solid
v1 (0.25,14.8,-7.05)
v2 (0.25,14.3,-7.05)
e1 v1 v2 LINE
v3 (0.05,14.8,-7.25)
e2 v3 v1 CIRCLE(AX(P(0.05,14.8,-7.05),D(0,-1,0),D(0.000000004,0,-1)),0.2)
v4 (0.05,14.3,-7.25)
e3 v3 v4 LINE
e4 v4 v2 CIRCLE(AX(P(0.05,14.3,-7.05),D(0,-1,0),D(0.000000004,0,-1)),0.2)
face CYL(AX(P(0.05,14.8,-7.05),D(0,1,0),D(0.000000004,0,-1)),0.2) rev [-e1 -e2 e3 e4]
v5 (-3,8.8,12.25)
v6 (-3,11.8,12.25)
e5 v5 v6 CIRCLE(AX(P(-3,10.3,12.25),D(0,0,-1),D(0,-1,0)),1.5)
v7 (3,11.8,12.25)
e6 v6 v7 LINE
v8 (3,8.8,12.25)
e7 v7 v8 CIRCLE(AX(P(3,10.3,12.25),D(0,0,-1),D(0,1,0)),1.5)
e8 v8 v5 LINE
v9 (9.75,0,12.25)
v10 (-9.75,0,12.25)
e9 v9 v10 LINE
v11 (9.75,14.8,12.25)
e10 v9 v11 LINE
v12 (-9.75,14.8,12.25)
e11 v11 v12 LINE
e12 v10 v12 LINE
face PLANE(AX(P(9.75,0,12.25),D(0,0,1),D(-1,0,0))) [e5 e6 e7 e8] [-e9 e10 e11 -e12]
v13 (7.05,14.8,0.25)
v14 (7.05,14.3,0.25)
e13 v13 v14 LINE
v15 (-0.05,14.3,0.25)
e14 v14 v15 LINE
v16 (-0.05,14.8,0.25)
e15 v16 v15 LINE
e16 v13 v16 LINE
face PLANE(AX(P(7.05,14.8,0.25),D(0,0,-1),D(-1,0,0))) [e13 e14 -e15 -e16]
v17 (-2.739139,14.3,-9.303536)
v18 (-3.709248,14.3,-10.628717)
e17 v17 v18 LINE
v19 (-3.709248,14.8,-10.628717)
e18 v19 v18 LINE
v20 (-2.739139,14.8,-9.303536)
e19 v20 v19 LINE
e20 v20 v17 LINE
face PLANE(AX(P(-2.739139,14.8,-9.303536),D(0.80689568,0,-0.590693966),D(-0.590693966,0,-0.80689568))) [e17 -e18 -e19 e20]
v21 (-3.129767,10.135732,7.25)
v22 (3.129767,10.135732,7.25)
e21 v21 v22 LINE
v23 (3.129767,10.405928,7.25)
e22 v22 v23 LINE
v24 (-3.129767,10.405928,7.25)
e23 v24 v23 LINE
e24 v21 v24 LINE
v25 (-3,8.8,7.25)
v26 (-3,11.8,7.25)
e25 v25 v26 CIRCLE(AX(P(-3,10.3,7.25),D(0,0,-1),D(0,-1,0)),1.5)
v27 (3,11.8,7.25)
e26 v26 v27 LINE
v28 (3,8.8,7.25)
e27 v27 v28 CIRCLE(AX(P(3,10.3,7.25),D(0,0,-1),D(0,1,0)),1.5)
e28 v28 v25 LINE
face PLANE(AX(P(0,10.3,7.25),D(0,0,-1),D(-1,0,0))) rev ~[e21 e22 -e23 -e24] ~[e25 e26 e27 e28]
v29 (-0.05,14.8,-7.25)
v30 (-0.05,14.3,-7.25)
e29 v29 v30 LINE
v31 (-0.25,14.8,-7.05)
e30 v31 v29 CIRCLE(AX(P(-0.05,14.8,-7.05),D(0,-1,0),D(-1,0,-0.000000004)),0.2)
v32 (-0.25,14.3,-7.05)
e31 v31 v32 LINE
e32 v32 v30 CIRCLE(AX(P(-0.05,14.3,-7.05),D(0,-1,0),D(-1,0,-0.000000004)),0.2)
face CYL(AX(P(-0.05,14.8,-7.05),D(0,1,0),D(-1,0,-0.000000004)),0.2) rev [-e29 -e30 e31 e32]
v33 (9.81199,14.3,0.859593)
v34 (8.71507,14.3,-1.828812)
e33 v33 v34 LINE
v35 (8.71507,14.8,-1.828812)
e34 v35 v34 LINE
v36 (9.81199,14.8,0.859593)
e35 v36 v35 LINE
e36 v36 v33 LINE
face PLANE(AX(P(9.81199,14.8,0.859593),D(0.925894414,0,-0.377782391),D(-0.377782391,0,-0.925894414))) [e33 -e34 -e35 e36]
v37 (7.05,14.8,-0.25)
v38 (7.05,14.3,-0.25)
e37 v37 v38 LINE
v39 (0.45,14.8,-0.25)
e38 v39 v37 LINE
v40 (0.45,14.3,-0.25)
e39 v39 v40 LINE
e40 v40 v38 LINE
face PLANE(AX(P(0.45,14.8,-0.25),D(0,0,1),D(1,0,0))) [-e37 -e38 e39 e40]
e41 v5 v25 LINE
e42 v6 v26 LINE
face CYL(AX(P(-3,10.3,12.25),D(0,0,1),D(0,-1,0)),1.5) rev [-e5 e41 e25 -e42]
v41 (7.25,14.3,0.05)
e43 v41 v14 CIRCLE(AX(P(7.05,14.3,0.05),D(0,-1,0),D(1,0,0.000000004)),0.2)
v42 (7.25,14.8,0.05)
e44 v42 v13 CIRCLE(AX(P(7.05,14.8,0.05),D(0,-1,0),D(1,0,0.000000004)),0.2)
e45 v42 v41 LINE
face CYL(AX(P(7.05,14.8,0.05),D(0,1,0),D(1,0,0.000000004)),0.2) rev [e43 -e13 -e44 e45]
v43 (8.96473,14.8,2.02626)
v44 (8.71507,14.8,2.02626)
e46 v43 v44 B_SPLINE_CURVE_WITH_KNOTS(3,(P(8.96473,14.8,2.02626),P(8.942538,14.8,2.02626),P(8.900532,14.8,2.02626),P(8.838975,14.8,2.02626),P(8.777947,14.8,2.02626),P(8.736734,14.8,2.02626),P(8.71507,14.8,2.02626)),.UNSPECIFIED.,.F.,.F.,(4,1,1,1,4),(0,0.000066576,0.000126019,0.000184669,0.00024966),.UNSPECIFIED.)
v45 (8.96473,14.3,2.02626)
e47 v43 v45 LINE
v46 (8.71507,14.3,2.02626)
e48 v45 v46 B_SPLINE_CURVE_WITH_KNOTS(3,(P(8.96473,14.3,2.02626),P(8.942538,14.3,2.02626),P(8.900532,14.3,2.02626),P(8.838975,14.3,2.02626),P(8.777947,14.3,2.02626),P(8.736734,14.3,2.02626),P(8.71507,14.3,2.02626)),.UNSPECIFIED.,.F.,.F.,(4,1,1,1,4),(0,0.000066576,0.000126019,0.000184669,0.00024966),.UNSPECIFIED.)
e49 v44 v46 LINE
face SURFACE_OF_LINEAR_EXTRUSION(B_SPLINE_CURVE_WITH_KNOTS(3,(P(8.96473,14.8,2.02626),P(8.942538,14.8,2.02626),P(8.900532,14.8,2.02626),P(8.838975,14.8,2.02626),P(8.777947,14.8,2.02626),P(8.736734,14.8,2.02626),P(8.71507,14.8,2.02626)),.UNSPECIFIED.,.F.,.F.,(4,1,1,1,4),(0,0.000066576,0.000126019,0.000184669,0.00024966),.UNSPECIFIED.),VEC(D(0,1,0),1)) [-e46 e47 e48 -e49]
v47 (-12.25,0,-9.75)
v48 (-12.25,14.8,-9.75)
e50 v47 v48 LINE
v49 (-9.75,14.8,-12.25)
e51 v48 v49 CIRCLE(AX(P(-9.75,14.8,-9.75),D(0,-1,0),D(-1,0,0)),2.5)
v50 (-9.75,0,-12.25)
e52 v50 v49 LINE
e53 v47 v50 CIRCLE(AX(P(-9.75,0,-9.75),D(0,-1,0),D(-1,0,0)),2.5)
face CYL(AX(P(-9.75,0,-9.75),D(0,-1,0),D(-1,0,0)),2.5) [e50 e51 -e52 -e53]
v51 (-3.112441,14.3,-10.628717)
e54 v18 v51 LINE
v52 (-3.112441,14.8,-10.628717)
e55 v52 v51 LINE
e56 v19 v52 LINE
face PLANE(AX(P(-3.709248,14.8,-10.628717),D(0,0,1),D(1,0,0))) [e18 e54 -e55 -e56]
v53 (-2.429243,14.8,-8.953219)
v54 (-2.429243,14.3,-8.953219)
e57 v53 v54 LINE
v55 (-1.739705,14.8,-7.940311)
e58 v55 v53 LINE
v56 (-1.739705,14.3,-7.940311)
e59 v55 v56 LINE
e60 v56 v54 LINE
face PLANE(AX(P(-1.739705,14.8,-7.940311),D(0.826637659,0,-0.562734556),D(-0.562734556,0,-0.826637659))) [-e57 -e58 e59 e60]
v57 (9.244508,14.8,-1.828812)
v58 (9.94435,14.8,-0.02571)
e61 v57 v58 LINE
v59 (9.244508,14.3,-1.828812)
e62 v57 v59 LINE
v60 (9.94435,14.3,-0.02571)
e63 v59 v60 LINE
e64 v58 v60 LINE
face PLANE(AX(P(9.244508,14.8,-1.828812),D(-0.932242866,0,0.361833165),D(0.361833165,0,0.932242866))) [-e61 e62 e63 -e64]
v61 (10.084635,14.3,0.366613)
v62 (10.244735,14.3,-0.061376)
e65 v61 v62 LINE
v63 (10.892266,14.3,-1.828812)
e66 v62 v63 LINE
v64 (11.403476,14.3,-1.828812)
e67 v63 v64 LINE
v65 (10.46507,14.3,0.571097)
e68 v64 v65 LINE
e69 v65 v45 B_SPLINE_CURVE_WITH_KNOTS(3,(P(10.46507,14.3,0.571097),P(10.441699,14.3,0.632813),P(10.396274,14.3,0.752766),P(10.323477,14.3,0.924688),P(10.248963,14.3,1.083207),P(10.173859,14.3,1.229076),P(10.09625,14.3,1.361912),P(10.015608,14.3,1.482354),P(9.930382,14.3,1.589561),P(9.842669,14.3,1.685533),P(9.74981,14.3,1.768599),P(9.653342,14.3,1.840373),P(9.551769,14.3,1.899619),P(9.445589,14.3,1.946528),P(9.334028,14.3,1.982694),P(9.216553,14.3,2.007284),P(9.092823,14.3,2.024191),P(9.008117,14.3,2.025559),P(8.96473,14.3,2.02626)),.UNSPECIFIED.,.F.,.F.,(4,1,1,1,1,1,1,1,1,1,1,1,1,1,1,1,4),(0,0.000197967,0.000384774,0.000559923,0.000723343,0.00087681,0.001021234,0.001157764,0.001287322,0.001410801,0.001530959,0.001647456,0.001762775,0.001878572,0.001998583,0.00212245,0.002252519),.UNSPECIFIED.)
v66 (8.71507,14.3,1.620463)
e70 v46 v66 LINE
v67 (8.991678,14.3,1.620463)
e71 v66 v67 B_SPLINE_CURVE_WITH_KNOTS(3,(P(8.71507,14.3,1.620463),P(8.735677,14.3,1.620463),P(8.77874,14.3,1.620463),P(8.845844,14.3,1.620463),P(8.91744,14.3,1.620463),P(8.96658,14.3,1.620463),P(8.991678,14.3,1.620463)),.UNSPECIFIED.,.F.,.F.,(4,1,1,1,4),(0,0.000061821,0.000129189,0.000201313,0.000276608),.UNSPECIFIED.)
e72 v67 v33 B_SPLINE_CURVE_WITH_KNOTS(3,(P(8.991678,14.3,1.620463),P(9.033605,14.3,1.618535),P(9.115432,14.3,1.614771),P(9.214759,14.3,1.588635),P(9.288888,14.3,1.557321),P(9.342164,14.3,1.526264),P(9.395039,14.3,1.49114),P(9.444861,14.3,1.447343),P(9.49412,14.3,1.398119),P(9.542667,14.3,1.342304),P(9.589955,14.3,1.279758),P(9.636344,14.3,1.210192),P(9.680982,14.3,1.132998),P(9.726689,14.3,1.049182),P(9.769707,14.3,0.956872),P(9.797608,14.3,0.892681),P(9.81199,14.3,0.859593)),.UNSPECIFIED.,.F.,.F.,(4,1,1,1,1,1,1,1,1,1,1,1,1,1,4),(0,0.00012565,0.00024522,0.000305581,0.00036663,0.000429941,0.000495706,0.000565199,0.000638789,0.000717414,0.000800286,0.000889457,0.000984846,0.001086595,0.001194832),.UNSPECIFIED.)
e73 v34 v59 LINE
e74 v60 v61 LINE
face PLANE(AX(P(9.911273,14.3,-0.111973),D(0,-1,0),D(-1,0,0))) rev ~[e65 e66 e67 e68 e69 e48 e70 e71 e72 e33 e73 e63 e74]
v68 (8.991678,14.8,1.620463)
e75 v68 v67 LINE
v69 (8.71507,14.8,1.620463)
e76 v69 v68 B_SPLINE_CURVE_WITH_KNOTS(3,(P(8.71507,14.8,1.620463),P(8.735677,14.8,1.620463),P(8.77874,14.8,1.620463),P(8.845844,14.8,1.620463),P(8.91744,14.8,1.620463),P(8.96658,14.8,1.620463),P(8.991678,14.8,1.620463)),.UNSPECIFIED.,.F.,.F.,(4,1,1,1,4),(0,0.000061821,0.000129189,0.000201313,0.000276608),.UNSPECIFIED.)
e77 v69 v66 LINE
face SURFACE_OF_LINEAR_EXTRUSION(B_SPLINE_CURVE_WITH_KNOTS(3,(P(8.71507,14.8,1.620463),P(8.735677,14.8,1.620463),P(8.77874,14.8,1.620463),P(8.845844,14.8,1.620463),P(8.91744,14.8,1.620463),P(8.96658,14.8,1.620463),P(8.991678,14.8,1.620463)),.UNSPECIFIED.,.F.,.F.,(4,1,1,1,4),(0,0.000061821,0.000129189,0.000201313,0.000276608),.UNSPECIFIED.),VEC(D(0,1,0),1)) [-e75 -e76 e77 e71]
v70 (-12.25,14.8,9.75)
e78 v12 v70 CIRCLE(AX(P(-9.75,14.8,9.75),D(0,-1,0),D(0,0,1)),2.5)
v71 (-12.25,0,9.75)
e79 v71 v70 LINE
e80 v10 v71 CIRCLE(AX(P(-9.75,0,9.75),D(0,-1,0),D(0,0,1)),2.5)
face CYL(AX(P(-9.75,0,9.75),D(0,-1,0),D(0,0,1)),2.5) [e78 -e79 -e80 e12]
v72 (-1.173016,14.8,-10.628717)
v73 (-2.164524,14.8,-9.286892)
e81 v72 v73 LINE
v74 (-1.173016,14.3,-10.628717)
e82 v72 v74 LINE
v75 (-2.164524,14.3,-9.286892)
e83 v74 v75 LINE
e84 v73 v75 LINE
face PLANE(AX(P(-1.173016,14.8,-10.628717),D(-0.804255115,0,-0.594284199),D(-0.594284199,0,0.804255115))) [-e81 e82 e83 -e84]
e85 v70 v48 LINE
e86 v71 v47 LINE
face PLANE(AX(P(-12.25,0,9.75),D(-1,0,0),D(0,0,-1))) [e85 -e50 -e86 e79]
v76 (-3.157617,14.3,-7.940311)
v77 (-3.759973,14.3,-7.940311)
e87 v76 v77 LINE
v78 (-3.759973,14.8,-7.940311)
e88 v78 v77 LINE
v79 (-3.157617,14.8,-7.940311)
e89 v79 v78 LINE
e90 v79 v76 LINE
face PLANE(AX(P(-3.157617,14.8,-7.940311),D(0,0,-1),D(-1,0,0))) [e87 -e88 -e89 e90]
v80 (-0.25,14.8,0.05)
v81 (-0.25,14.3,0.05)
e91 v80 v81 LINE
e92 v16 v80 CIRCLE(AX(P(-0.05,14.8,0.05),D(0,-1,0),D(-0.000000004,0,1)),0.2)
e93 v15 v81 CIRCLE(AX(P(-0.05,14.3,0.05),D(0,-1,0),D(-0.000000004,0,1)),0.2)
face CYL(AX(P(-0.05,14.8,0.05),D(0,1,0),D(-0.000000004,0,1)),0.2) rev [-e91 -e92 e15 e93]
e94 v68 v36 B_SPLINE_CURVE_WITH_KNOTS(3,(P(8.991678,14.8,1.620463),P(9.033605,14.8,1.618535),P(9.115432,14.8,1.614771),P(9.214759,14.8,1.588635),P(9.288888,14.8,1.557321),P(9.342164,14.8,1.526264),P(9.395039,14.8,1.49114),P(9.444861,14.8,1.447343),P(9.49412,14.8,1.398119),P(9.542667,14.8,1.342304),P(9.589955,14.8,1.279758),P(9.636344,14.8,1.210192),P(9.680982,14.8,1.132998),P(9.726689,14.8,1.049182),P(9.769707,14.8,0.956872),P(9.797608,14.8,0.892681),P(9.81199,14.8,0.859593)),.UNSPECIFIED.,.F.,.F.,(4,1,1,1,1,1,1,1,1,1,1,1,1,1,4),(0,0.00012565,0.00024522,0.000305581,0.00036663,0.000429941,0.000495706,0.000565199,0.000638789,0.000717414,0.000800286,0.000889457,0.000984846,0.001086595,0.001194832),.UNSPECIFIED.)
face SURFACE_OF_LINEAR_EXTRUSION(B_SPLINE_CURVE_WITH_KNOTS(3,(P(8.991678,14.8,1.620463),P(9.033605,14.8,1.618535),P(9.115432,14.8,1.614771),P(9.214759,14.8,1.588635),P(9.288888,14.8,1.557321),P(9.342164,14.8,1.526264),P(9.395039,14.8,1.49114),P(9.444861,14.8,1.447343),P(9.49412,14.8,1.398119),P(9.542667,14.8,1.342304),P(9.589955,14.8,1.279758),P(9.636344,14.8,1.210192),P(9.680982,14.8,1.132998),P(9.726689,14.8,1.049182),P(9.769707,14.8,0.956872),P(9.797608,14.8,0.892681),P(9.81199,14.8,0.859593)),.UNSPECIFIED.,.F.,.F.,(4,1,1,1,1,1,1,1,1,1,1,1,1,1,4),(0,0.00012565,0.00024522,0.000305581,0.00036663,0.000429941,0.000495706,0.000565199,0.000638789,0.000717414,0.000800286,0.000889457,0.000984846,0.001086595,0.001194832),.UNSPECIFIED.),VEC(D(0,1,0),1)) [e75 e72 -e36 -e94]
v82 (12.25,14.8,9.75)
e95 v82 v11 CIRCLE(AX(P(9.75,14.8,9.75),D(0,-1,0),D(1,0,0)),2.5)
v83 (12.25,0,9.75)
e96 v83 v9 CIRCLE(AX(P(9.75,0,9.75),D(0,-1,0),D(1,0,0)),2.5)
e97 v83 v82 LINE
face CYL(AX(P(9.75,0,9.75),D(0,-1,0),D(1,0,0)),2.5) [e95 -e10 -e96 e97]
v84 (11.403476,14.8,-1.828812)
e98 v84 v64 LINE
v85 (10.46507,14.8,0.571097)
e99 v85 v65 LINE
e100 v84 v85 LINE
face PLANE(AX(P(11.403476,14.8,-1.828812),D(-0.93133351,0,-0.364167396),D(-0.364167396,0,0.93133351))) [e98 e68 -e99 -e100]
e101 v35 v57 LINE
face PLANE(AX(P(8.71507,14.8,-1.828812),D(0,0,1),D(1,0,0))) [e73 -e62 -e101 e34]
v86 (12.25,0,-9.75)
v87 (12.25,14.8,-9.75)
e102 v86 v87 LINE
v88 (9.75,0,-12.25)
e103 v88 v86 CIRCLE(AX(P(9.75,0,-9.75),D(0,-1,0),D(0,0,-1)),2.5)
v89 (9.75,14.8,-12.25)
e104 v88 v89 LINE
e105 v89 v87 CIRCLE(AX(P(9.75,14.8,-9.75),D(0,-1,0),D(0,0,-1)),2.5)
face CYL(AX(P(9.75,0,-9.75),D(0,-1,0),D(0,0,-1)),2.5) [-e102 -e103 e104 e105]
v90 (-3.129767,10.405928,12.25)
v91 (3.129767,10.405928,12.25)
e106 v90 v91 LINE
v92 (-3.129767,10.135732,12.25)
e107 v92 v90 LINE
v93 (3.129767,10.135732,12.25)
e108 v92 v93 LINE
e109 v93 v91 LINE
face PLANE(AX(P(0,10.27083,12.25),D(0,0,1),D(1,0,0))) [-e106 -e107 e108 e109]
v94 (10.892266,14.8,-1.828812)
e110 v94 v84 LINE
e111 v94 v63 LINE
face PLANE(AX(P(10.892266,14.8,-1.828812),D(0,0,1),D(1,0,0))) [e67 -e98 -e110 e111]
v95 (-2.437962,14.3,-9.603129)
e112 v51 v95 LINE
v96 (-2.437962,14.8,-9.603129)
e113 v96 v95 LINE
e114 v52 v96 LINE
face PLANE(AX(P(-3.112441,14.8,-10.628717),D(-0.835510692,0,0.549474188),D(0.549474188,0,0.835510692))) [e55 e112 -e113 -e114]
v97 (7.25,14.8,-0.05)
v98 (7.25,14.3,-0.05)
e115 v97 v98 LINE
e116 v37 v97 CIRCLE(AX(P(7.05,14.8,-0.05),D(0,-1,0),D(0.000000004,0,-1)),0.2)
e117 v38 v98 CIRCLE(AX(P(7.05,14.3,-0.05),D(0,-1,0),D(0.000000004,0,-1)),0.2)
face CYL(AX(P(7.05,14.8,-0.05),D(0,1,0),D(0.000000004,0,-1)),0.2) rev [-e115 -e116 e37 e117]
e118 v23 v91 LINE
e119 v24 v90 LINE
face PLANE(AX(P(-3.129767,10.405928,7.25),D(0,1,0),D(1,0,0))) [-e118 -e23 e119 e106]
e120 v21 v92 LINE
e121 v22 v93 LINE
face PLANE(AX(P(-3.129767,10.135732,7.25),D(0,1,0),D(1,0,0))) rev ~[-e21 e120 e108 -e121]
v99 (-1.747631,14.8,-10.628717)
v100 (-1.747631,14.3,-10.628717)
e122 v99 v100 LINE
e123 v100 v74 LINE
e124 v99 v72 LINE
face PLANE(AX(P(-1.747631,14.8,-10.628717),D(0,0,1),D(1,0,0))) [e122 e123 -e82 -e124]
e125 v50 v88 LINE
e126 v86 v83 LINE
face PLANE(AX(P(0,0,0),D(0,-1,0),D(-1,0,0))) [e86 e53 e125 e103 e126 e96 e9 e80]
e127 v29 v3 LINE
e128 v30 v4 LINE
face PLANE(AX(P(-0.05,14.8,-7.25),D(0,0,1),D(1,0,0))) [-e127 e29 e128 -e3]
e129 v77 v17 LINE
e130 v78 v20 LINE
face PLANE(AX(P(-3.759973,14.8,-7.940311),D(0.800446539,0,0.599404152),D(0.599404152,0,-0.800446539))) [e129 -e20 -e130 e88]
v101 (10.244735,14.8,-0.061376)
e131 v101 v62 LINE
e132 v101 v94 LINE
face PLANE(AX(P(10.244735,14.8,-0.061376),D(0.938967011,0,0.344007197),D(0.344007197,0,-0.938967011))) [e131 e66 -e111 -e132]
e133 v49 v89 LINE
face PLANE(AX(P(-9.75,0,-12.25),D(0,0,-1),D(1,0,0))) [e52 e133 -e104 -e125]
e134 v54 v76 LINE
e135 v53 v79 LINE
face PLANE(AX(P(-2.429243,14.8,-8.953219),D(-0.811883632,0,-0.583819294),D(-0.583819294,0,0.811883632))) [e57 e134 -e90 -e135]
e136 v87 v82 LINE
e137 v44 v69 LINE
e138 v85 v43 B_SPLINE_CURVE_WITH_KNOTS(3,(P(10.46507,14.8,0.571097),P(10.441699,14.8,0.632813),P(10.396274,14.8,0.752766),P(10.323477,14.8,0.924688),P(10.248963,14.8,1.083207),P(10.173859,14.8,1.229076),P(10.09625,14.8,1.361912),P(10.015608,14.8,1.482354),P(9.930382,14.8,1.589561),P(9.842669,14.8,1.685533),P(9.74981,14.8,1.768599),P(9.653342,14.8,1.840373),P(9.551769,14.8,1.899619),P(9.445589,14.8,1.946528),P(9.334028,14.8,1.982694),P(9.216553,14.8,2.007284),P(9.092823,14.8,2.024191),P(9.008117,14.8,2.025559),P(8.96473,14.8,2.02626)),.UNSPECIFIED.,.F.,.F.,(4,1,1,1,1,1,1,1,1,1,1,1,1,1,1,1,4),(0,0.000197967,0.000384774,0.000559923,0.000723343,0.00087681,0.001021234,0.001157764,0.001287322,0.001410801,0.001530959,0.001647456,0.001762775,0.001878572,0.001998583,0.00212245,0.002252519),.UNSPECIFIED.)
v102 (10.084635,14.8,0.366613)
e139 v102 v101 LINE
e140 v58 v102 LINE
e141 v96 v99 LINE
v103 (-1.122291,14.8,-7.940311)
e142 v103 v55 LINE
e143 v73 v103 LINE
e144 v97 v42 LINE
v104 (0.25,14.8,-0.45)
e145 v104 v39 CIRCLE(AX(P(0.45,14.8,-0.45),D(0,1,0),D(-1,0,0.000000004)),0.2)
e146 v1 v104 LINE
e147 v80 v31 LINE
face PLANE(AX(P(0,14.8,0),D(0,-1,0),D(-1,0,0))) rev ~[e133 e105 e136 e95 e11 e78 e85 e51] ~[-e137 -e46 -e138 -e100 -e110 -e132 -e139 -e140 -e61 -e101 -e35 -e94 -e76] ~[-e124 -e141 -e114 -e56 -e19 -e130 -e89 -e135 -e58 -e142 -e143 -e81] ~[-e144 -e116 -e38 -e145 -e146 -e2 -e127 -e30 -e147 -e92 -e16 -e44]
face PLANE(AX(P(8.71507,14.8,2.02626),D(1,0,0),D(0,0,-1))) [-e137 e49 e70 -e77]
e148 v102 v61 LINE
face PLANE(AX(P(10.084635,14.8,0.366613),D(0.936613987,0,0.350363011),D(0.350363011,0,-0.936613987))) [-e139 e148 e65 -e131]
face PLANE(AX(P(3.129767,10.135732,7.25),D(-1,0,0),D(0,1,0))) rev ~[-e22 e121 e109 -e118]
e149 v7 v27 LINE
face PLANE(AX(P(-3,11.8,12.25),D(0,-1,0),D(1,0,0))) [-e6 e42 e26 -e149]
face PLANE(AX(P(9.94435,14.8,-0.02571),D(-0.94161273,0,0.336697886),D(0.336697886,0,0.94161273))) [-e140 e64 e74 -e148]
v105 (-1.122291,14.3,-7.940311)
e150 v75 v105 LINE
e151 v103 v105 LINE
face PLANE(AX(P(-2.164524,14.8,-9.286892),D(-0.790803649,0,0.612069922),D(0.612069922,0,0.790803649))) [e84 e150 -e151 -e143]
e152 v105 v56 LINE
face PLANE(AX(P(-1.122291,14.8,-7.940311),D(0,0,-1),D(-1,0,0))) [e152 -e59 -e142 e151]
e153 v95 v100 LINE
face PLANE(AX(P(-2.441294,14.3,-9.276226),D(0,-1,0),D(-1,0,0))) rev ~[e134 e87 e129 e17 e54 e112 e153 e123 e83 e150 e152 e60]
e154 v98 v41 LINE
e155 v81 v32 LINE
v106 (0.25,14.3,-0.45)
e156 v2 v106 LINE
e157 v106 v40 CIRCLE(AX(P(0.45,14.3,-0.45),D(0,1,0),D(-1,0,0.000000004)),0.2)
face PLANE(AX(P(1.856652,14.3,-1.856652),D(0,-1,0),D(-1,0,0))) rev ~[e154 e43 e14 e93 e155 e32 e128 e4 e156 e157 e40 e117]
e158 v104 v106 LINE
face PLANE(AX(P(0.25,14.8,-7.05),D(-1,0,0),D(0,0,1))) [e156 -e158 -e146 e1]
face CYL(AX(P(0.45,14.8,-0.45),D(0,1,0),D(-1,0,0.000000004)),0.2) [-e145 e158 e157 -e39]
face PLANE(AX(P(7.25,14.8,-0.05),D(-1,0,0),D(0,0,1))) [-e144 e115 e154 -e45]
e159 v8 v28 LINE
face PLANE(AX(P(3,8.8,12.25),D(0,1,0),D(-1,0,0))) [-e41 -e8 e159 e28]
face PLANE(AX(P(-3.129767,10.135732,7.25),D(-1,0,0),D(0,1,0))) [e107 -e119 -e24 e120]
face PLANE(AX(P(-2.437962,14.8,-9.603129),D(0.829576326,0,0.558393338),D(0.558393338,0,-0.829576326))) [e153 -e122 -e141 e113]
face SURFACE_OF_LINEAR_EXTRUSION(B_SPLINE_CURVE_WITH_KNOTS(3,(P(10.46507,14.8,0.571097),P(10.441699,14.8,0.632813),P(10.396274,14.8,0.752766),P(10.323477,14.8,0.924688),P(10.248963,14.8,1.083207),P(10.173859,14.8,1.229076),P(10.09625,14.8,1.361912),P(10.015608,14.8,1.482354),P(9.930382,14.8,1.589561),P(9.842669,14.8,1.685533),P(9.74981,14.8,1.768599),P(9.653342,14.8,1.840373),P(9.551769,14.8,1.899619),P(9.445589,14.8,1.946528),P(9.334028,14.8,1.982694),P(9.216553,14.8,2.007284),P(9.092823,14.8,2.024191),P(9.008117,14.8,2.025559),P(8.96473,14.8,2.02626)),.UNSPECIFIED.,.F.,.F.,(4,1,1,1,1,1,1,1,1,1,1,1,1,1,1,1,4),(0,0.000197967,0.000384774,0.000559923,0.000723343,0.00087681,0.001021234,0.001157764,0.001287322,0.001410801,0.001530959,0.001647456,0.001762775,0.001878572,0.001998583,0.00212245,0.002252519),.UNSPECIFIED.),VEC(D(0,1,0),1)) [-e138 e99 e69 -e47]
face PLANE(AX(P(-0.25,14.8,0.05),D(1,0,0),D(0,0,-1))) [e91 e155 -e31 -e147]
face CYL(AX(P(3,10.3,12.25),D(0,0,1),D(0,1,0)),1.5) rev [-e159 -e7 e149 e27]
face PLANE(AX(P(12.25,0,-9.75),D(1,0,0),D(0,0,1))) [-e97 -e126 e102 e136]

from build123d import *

# Parameters (mm, degrees)
EXTRUDE_1_DEPTH     = 14.8
CUT_EXTRUDE_1_DEPTH = 0.5
CUT_EXTRUDE_2_DEPTH = 0.5
CUT_EXTRUDE_3_DEPTH = 0.5
CUT_EXTRUDE_4_DEPTH = 5
SKETCH_6_W          = 6.25953497
SKETCH_6_H          = 0.270195754
EXTRUDE_2_DEPTH     = 5


with BuildPart() as part:
    # 草图1 → 凸台-拉伸1 (new body)
    with BuildSketch(Plane(origin=(0, 0, 0), x_dir=(1, 0, 0), z_dir=(0, 1, 0))):
        with BuildLine():
            Line((-9.75, 12.25), (9.75, 12.25))
            ThreePointArc((9.75, 12.25), (11.517766953, 11.517766953), (12.25, 9.75))
            Line((12.25, 9.75), (12.25, -9.75))
            ThreePointArc((12.25, -9.75), (11.517766953, -11.517766953), (9.75, -12.25))
            Line((9.75, -12.25), (-9.75, -12.25))
            ThreePointArc((-9.75, -12.25), (-11.517766953, -11.517766953), (-12.25, -9.75))
            Line((-12.25, -9.75), (-12.25, 9.75))
            ThreePointArc((-12.25, 9.75), (-11.517766953, 11.517766953), (-9.75, 12.25))
        make_face()
    extrude(amount=EXTRUDE_1_DEPTH)

    # 草图2 → 切除-拉伸1 (cut)
    with BuildSketch(Plane(origin=(0, 14.8, 0), x_dir=(1, 0, 0), z_dir=(0, 1, 0))):
        with BuildLine():
            Line((-0.25, -0.05), (-0.25, 7.05))
            ThreePointArc((-0.25, 7.05), (-0.191421356, 7.191421356), (-0.05, 7.25))
            Line((-0.05, 7.25), (0.05, 7.25))
            ThreePointArc((0.05, 7.25), (0.191421356, 7.191421356), (0.25, 7.05))
            Line((0.25, 7.05), (0.25, 0.45))
            ThreePointArc((0.25, 0.45), (0.308578644, 0.308578644), (0.45, 0.25))
            Line((0.45, 0.25), (7.05, 0.25))
            ThreePointArc((7.05, 0.25), (7.191421356, 0.191421356), (7.25, 0.05))
            Line((7.25, 0.05), (7.25, -0.05))
            ThreePointArc((7.25, -0.05), (7.191421356, -0.191421356), (7.05, -0.25))
            Line((7.05, -0.25), (-0.05, -0.25))
            ThreePointArc((-0.05, -0.25), (-0.191421356, -0.191421356), (-0.25, -0.05))
        make_face()
    extrude(amount=-CUT_EXTRUDE_1_DEPTH, mode=Mode.SUBTRACT)

    # 草图3 → 切除-拉伸2 (cut)
    with BuildSketch(Plane(origin=(0, 14.8, 0), x_dir=(1, 0, 0), z_dir=(0, 1, 0))):
        Polygon((-1.12229135, 7.940311498), (-1.739705299, 7.940311498), (-2.429243342, 8.953219107), (-3.157617436, 7.940311498), (-3.759972509, 7.940311498), (-2.739139176, 9.303536136), (-3.709247871, 10.628717295), (-3.112440806, 10.628717295), (-2.437961639, 9.603128527), (-1.747631023, 10.628717295), (-1.173015987, 10.628717295), (-2.164524139, 9.286892114), align=None)
    extrude(amount=-CUT_EXTRUDE_2_DEPTH, mode=Mode.SUBTRACT)

    # 草图4 → 切除-拉伸3 (cut)
    with BuildSketch(Plane(origin=(0, 14.8, 0), x_dir=(1, 0, 0), z_dir=(0, 1, 0))):
        with BuildLine():
            Line((11.403475674, 1.828812442), (10.465069877, -0.571096978))
            add(Edge.make_bspline(
                [(10.465069877, -0.571096978), (10.441698651, -0.632813146), (10.396273738, -0.752766273), (10.323476502, -0.924688355), (10.248962895, -1.083206918), (10.173859339, -1.229075957), (10.096249765, -1.36191233), (10.015608226, -1.4823536), (9.930382332, -1.589561424), (9.842668967, -1.685533109), (9.749809923, -1.768599434), (9.653342166, -1.840372882), (9.551769454, -1.8996192), (9.445588671, -1.946527543), (9.334028283, -1.98269443), (9.216553101, -2.007284146), (9.092822913, -2.024191262), (9.008117337, -2.025559298), (8.964730203, -2.026260022)],
                knots=[0, 0, 0, 0, 0.000197967, 0.000384774, 0.000559923, 0.000723343, 0.00087681, 0.001021234, 0.001157764, 0.001287322, 0.001410801, 0.001530959, 0.001647456, 0.001762775, 0.001878572, 0.001998583, 0.00212245, 0.002252519, 0.002252519, 0.002252519, 0.002252519], degree=3))
            add(Edge.make_bspline(
                [(8.964730203, -2.026260022), (8.942538174, -2.026260022), (8.900531833, -2.026260022), (8.838975372, -2.026260022), (8.777947292, -2.026260022), (8.736733524, -2.026260022), (8.715069877, -2.026260022)],
                knots=[0, 0, 0, 0, 6.6576e-05, 0.000126019, 0.000184669, 0.00024966, 0.00024966, 0.00024966, 0.00024966], degree=3))
            Line((8.715069877, -2.026260022), (8.715069877, -1.62046292))
            add(Edge.make_bspline(
                [(8.715069877, -1.62046292), (8.735676761, -1.62046292), (8.778739865, -1.62046292), (8.845844333, -1.62046292), (8.917440046, -1.62046292), (8.966579539, -1.62046292), (8.991677667, -1.62046292)],
                knots=[0, 0, 0, 0, 6.1821e-05, 0.000129189, 0.000201313, 0.000276608, 0.000276608, 0.000276608, 0.000276608], degree=3))
            add(Edge.make_bspline(
                [(8.991677667, -1.62046292), (9.033605397, -1.618534602), (9.115432431, -1.614771255), (9.214758532, -1.588635211), (9.288887696, -1.557320953), (9.342163605, -1.526264237), (9.395038901, -1.491140236), (9.444860635, -1.447343482), (9.494119782, -1.39811915), (9.542666617, -1.342303846), (9.589955098, -1.279758499), (9.636344058, -1.210191532), (9.680981598, -1.132997619), (9.726689194, -1.049181552), (9.769706918, -0.956871513), (9.797608369, -0.892680567), (9.811990167, -0.859593355)],
                knots=[0, 0, 0, 0, 0.00012565, 0.00024522, 0.000305581, 0.00036663, 0.000429941, 0.000495706, 0.000565199, 0.000638789, 0.000717414, 0.000800286, 0.000889457, 0.000984846, 0.001086595, 0.001194832, 0.001194832, 0.001194832, 0.001194832], degree=3))
            Line((9.811990167, -0.859593355), (8.715069877, 1.828812442))
            Line((8.715069877, 1.828812442), (9.244508282, 1.828812442))
            Line((9.244508282, 1.828812442), (9.944349768, 0.025710087))
            Line((9.944349768, 0.025710087), (10.084635094, -0.366613282))
            Line((10.084635094, -0.366613282), (10.244734732, 0.061375848))
            Line((10.244734732, 0.061375848), (10.892266435, 1.828812442))
            Line((10.892266435, 1.828812442), (11.403475674, 1.828812442))
        make_face()
    extrude(amount=-CUT_EXTRUDE_3_DEPTH, mode=Mode.SUBTRACT)

    # 草图5 → 切除-拉伸4 (cut)
    with BuildSketch(Plane.XY.offset(12.25)):
        with BuildLine():
            Line((-3, 11.8), (3, 11.8))
            ThreePointArc((3, 11.8), (4.5, 10.3), (3, 8.8))
            Line((3, 8.8), (-3, 8.8))
            ThreePointArc((-3, 8.8), (-4.5, 10.3), (-3, 11.8))
        make_face()
    extrude(amount=-CUT_EXTRUDE_4_DEPTH, mode=Mode.SUBTRACT)

    # 草图6 → 凸台-拉伸2 (add)
    with BuildSketch(Plane.XY.offset(7.25)):
        with Locations((0, 10.270829887)):
            Rectangle(SKETCH_6_W, SKETCH_6_H)
    extrude(amount=EXTRUDE_2_DEPTH)


solid = part.part
